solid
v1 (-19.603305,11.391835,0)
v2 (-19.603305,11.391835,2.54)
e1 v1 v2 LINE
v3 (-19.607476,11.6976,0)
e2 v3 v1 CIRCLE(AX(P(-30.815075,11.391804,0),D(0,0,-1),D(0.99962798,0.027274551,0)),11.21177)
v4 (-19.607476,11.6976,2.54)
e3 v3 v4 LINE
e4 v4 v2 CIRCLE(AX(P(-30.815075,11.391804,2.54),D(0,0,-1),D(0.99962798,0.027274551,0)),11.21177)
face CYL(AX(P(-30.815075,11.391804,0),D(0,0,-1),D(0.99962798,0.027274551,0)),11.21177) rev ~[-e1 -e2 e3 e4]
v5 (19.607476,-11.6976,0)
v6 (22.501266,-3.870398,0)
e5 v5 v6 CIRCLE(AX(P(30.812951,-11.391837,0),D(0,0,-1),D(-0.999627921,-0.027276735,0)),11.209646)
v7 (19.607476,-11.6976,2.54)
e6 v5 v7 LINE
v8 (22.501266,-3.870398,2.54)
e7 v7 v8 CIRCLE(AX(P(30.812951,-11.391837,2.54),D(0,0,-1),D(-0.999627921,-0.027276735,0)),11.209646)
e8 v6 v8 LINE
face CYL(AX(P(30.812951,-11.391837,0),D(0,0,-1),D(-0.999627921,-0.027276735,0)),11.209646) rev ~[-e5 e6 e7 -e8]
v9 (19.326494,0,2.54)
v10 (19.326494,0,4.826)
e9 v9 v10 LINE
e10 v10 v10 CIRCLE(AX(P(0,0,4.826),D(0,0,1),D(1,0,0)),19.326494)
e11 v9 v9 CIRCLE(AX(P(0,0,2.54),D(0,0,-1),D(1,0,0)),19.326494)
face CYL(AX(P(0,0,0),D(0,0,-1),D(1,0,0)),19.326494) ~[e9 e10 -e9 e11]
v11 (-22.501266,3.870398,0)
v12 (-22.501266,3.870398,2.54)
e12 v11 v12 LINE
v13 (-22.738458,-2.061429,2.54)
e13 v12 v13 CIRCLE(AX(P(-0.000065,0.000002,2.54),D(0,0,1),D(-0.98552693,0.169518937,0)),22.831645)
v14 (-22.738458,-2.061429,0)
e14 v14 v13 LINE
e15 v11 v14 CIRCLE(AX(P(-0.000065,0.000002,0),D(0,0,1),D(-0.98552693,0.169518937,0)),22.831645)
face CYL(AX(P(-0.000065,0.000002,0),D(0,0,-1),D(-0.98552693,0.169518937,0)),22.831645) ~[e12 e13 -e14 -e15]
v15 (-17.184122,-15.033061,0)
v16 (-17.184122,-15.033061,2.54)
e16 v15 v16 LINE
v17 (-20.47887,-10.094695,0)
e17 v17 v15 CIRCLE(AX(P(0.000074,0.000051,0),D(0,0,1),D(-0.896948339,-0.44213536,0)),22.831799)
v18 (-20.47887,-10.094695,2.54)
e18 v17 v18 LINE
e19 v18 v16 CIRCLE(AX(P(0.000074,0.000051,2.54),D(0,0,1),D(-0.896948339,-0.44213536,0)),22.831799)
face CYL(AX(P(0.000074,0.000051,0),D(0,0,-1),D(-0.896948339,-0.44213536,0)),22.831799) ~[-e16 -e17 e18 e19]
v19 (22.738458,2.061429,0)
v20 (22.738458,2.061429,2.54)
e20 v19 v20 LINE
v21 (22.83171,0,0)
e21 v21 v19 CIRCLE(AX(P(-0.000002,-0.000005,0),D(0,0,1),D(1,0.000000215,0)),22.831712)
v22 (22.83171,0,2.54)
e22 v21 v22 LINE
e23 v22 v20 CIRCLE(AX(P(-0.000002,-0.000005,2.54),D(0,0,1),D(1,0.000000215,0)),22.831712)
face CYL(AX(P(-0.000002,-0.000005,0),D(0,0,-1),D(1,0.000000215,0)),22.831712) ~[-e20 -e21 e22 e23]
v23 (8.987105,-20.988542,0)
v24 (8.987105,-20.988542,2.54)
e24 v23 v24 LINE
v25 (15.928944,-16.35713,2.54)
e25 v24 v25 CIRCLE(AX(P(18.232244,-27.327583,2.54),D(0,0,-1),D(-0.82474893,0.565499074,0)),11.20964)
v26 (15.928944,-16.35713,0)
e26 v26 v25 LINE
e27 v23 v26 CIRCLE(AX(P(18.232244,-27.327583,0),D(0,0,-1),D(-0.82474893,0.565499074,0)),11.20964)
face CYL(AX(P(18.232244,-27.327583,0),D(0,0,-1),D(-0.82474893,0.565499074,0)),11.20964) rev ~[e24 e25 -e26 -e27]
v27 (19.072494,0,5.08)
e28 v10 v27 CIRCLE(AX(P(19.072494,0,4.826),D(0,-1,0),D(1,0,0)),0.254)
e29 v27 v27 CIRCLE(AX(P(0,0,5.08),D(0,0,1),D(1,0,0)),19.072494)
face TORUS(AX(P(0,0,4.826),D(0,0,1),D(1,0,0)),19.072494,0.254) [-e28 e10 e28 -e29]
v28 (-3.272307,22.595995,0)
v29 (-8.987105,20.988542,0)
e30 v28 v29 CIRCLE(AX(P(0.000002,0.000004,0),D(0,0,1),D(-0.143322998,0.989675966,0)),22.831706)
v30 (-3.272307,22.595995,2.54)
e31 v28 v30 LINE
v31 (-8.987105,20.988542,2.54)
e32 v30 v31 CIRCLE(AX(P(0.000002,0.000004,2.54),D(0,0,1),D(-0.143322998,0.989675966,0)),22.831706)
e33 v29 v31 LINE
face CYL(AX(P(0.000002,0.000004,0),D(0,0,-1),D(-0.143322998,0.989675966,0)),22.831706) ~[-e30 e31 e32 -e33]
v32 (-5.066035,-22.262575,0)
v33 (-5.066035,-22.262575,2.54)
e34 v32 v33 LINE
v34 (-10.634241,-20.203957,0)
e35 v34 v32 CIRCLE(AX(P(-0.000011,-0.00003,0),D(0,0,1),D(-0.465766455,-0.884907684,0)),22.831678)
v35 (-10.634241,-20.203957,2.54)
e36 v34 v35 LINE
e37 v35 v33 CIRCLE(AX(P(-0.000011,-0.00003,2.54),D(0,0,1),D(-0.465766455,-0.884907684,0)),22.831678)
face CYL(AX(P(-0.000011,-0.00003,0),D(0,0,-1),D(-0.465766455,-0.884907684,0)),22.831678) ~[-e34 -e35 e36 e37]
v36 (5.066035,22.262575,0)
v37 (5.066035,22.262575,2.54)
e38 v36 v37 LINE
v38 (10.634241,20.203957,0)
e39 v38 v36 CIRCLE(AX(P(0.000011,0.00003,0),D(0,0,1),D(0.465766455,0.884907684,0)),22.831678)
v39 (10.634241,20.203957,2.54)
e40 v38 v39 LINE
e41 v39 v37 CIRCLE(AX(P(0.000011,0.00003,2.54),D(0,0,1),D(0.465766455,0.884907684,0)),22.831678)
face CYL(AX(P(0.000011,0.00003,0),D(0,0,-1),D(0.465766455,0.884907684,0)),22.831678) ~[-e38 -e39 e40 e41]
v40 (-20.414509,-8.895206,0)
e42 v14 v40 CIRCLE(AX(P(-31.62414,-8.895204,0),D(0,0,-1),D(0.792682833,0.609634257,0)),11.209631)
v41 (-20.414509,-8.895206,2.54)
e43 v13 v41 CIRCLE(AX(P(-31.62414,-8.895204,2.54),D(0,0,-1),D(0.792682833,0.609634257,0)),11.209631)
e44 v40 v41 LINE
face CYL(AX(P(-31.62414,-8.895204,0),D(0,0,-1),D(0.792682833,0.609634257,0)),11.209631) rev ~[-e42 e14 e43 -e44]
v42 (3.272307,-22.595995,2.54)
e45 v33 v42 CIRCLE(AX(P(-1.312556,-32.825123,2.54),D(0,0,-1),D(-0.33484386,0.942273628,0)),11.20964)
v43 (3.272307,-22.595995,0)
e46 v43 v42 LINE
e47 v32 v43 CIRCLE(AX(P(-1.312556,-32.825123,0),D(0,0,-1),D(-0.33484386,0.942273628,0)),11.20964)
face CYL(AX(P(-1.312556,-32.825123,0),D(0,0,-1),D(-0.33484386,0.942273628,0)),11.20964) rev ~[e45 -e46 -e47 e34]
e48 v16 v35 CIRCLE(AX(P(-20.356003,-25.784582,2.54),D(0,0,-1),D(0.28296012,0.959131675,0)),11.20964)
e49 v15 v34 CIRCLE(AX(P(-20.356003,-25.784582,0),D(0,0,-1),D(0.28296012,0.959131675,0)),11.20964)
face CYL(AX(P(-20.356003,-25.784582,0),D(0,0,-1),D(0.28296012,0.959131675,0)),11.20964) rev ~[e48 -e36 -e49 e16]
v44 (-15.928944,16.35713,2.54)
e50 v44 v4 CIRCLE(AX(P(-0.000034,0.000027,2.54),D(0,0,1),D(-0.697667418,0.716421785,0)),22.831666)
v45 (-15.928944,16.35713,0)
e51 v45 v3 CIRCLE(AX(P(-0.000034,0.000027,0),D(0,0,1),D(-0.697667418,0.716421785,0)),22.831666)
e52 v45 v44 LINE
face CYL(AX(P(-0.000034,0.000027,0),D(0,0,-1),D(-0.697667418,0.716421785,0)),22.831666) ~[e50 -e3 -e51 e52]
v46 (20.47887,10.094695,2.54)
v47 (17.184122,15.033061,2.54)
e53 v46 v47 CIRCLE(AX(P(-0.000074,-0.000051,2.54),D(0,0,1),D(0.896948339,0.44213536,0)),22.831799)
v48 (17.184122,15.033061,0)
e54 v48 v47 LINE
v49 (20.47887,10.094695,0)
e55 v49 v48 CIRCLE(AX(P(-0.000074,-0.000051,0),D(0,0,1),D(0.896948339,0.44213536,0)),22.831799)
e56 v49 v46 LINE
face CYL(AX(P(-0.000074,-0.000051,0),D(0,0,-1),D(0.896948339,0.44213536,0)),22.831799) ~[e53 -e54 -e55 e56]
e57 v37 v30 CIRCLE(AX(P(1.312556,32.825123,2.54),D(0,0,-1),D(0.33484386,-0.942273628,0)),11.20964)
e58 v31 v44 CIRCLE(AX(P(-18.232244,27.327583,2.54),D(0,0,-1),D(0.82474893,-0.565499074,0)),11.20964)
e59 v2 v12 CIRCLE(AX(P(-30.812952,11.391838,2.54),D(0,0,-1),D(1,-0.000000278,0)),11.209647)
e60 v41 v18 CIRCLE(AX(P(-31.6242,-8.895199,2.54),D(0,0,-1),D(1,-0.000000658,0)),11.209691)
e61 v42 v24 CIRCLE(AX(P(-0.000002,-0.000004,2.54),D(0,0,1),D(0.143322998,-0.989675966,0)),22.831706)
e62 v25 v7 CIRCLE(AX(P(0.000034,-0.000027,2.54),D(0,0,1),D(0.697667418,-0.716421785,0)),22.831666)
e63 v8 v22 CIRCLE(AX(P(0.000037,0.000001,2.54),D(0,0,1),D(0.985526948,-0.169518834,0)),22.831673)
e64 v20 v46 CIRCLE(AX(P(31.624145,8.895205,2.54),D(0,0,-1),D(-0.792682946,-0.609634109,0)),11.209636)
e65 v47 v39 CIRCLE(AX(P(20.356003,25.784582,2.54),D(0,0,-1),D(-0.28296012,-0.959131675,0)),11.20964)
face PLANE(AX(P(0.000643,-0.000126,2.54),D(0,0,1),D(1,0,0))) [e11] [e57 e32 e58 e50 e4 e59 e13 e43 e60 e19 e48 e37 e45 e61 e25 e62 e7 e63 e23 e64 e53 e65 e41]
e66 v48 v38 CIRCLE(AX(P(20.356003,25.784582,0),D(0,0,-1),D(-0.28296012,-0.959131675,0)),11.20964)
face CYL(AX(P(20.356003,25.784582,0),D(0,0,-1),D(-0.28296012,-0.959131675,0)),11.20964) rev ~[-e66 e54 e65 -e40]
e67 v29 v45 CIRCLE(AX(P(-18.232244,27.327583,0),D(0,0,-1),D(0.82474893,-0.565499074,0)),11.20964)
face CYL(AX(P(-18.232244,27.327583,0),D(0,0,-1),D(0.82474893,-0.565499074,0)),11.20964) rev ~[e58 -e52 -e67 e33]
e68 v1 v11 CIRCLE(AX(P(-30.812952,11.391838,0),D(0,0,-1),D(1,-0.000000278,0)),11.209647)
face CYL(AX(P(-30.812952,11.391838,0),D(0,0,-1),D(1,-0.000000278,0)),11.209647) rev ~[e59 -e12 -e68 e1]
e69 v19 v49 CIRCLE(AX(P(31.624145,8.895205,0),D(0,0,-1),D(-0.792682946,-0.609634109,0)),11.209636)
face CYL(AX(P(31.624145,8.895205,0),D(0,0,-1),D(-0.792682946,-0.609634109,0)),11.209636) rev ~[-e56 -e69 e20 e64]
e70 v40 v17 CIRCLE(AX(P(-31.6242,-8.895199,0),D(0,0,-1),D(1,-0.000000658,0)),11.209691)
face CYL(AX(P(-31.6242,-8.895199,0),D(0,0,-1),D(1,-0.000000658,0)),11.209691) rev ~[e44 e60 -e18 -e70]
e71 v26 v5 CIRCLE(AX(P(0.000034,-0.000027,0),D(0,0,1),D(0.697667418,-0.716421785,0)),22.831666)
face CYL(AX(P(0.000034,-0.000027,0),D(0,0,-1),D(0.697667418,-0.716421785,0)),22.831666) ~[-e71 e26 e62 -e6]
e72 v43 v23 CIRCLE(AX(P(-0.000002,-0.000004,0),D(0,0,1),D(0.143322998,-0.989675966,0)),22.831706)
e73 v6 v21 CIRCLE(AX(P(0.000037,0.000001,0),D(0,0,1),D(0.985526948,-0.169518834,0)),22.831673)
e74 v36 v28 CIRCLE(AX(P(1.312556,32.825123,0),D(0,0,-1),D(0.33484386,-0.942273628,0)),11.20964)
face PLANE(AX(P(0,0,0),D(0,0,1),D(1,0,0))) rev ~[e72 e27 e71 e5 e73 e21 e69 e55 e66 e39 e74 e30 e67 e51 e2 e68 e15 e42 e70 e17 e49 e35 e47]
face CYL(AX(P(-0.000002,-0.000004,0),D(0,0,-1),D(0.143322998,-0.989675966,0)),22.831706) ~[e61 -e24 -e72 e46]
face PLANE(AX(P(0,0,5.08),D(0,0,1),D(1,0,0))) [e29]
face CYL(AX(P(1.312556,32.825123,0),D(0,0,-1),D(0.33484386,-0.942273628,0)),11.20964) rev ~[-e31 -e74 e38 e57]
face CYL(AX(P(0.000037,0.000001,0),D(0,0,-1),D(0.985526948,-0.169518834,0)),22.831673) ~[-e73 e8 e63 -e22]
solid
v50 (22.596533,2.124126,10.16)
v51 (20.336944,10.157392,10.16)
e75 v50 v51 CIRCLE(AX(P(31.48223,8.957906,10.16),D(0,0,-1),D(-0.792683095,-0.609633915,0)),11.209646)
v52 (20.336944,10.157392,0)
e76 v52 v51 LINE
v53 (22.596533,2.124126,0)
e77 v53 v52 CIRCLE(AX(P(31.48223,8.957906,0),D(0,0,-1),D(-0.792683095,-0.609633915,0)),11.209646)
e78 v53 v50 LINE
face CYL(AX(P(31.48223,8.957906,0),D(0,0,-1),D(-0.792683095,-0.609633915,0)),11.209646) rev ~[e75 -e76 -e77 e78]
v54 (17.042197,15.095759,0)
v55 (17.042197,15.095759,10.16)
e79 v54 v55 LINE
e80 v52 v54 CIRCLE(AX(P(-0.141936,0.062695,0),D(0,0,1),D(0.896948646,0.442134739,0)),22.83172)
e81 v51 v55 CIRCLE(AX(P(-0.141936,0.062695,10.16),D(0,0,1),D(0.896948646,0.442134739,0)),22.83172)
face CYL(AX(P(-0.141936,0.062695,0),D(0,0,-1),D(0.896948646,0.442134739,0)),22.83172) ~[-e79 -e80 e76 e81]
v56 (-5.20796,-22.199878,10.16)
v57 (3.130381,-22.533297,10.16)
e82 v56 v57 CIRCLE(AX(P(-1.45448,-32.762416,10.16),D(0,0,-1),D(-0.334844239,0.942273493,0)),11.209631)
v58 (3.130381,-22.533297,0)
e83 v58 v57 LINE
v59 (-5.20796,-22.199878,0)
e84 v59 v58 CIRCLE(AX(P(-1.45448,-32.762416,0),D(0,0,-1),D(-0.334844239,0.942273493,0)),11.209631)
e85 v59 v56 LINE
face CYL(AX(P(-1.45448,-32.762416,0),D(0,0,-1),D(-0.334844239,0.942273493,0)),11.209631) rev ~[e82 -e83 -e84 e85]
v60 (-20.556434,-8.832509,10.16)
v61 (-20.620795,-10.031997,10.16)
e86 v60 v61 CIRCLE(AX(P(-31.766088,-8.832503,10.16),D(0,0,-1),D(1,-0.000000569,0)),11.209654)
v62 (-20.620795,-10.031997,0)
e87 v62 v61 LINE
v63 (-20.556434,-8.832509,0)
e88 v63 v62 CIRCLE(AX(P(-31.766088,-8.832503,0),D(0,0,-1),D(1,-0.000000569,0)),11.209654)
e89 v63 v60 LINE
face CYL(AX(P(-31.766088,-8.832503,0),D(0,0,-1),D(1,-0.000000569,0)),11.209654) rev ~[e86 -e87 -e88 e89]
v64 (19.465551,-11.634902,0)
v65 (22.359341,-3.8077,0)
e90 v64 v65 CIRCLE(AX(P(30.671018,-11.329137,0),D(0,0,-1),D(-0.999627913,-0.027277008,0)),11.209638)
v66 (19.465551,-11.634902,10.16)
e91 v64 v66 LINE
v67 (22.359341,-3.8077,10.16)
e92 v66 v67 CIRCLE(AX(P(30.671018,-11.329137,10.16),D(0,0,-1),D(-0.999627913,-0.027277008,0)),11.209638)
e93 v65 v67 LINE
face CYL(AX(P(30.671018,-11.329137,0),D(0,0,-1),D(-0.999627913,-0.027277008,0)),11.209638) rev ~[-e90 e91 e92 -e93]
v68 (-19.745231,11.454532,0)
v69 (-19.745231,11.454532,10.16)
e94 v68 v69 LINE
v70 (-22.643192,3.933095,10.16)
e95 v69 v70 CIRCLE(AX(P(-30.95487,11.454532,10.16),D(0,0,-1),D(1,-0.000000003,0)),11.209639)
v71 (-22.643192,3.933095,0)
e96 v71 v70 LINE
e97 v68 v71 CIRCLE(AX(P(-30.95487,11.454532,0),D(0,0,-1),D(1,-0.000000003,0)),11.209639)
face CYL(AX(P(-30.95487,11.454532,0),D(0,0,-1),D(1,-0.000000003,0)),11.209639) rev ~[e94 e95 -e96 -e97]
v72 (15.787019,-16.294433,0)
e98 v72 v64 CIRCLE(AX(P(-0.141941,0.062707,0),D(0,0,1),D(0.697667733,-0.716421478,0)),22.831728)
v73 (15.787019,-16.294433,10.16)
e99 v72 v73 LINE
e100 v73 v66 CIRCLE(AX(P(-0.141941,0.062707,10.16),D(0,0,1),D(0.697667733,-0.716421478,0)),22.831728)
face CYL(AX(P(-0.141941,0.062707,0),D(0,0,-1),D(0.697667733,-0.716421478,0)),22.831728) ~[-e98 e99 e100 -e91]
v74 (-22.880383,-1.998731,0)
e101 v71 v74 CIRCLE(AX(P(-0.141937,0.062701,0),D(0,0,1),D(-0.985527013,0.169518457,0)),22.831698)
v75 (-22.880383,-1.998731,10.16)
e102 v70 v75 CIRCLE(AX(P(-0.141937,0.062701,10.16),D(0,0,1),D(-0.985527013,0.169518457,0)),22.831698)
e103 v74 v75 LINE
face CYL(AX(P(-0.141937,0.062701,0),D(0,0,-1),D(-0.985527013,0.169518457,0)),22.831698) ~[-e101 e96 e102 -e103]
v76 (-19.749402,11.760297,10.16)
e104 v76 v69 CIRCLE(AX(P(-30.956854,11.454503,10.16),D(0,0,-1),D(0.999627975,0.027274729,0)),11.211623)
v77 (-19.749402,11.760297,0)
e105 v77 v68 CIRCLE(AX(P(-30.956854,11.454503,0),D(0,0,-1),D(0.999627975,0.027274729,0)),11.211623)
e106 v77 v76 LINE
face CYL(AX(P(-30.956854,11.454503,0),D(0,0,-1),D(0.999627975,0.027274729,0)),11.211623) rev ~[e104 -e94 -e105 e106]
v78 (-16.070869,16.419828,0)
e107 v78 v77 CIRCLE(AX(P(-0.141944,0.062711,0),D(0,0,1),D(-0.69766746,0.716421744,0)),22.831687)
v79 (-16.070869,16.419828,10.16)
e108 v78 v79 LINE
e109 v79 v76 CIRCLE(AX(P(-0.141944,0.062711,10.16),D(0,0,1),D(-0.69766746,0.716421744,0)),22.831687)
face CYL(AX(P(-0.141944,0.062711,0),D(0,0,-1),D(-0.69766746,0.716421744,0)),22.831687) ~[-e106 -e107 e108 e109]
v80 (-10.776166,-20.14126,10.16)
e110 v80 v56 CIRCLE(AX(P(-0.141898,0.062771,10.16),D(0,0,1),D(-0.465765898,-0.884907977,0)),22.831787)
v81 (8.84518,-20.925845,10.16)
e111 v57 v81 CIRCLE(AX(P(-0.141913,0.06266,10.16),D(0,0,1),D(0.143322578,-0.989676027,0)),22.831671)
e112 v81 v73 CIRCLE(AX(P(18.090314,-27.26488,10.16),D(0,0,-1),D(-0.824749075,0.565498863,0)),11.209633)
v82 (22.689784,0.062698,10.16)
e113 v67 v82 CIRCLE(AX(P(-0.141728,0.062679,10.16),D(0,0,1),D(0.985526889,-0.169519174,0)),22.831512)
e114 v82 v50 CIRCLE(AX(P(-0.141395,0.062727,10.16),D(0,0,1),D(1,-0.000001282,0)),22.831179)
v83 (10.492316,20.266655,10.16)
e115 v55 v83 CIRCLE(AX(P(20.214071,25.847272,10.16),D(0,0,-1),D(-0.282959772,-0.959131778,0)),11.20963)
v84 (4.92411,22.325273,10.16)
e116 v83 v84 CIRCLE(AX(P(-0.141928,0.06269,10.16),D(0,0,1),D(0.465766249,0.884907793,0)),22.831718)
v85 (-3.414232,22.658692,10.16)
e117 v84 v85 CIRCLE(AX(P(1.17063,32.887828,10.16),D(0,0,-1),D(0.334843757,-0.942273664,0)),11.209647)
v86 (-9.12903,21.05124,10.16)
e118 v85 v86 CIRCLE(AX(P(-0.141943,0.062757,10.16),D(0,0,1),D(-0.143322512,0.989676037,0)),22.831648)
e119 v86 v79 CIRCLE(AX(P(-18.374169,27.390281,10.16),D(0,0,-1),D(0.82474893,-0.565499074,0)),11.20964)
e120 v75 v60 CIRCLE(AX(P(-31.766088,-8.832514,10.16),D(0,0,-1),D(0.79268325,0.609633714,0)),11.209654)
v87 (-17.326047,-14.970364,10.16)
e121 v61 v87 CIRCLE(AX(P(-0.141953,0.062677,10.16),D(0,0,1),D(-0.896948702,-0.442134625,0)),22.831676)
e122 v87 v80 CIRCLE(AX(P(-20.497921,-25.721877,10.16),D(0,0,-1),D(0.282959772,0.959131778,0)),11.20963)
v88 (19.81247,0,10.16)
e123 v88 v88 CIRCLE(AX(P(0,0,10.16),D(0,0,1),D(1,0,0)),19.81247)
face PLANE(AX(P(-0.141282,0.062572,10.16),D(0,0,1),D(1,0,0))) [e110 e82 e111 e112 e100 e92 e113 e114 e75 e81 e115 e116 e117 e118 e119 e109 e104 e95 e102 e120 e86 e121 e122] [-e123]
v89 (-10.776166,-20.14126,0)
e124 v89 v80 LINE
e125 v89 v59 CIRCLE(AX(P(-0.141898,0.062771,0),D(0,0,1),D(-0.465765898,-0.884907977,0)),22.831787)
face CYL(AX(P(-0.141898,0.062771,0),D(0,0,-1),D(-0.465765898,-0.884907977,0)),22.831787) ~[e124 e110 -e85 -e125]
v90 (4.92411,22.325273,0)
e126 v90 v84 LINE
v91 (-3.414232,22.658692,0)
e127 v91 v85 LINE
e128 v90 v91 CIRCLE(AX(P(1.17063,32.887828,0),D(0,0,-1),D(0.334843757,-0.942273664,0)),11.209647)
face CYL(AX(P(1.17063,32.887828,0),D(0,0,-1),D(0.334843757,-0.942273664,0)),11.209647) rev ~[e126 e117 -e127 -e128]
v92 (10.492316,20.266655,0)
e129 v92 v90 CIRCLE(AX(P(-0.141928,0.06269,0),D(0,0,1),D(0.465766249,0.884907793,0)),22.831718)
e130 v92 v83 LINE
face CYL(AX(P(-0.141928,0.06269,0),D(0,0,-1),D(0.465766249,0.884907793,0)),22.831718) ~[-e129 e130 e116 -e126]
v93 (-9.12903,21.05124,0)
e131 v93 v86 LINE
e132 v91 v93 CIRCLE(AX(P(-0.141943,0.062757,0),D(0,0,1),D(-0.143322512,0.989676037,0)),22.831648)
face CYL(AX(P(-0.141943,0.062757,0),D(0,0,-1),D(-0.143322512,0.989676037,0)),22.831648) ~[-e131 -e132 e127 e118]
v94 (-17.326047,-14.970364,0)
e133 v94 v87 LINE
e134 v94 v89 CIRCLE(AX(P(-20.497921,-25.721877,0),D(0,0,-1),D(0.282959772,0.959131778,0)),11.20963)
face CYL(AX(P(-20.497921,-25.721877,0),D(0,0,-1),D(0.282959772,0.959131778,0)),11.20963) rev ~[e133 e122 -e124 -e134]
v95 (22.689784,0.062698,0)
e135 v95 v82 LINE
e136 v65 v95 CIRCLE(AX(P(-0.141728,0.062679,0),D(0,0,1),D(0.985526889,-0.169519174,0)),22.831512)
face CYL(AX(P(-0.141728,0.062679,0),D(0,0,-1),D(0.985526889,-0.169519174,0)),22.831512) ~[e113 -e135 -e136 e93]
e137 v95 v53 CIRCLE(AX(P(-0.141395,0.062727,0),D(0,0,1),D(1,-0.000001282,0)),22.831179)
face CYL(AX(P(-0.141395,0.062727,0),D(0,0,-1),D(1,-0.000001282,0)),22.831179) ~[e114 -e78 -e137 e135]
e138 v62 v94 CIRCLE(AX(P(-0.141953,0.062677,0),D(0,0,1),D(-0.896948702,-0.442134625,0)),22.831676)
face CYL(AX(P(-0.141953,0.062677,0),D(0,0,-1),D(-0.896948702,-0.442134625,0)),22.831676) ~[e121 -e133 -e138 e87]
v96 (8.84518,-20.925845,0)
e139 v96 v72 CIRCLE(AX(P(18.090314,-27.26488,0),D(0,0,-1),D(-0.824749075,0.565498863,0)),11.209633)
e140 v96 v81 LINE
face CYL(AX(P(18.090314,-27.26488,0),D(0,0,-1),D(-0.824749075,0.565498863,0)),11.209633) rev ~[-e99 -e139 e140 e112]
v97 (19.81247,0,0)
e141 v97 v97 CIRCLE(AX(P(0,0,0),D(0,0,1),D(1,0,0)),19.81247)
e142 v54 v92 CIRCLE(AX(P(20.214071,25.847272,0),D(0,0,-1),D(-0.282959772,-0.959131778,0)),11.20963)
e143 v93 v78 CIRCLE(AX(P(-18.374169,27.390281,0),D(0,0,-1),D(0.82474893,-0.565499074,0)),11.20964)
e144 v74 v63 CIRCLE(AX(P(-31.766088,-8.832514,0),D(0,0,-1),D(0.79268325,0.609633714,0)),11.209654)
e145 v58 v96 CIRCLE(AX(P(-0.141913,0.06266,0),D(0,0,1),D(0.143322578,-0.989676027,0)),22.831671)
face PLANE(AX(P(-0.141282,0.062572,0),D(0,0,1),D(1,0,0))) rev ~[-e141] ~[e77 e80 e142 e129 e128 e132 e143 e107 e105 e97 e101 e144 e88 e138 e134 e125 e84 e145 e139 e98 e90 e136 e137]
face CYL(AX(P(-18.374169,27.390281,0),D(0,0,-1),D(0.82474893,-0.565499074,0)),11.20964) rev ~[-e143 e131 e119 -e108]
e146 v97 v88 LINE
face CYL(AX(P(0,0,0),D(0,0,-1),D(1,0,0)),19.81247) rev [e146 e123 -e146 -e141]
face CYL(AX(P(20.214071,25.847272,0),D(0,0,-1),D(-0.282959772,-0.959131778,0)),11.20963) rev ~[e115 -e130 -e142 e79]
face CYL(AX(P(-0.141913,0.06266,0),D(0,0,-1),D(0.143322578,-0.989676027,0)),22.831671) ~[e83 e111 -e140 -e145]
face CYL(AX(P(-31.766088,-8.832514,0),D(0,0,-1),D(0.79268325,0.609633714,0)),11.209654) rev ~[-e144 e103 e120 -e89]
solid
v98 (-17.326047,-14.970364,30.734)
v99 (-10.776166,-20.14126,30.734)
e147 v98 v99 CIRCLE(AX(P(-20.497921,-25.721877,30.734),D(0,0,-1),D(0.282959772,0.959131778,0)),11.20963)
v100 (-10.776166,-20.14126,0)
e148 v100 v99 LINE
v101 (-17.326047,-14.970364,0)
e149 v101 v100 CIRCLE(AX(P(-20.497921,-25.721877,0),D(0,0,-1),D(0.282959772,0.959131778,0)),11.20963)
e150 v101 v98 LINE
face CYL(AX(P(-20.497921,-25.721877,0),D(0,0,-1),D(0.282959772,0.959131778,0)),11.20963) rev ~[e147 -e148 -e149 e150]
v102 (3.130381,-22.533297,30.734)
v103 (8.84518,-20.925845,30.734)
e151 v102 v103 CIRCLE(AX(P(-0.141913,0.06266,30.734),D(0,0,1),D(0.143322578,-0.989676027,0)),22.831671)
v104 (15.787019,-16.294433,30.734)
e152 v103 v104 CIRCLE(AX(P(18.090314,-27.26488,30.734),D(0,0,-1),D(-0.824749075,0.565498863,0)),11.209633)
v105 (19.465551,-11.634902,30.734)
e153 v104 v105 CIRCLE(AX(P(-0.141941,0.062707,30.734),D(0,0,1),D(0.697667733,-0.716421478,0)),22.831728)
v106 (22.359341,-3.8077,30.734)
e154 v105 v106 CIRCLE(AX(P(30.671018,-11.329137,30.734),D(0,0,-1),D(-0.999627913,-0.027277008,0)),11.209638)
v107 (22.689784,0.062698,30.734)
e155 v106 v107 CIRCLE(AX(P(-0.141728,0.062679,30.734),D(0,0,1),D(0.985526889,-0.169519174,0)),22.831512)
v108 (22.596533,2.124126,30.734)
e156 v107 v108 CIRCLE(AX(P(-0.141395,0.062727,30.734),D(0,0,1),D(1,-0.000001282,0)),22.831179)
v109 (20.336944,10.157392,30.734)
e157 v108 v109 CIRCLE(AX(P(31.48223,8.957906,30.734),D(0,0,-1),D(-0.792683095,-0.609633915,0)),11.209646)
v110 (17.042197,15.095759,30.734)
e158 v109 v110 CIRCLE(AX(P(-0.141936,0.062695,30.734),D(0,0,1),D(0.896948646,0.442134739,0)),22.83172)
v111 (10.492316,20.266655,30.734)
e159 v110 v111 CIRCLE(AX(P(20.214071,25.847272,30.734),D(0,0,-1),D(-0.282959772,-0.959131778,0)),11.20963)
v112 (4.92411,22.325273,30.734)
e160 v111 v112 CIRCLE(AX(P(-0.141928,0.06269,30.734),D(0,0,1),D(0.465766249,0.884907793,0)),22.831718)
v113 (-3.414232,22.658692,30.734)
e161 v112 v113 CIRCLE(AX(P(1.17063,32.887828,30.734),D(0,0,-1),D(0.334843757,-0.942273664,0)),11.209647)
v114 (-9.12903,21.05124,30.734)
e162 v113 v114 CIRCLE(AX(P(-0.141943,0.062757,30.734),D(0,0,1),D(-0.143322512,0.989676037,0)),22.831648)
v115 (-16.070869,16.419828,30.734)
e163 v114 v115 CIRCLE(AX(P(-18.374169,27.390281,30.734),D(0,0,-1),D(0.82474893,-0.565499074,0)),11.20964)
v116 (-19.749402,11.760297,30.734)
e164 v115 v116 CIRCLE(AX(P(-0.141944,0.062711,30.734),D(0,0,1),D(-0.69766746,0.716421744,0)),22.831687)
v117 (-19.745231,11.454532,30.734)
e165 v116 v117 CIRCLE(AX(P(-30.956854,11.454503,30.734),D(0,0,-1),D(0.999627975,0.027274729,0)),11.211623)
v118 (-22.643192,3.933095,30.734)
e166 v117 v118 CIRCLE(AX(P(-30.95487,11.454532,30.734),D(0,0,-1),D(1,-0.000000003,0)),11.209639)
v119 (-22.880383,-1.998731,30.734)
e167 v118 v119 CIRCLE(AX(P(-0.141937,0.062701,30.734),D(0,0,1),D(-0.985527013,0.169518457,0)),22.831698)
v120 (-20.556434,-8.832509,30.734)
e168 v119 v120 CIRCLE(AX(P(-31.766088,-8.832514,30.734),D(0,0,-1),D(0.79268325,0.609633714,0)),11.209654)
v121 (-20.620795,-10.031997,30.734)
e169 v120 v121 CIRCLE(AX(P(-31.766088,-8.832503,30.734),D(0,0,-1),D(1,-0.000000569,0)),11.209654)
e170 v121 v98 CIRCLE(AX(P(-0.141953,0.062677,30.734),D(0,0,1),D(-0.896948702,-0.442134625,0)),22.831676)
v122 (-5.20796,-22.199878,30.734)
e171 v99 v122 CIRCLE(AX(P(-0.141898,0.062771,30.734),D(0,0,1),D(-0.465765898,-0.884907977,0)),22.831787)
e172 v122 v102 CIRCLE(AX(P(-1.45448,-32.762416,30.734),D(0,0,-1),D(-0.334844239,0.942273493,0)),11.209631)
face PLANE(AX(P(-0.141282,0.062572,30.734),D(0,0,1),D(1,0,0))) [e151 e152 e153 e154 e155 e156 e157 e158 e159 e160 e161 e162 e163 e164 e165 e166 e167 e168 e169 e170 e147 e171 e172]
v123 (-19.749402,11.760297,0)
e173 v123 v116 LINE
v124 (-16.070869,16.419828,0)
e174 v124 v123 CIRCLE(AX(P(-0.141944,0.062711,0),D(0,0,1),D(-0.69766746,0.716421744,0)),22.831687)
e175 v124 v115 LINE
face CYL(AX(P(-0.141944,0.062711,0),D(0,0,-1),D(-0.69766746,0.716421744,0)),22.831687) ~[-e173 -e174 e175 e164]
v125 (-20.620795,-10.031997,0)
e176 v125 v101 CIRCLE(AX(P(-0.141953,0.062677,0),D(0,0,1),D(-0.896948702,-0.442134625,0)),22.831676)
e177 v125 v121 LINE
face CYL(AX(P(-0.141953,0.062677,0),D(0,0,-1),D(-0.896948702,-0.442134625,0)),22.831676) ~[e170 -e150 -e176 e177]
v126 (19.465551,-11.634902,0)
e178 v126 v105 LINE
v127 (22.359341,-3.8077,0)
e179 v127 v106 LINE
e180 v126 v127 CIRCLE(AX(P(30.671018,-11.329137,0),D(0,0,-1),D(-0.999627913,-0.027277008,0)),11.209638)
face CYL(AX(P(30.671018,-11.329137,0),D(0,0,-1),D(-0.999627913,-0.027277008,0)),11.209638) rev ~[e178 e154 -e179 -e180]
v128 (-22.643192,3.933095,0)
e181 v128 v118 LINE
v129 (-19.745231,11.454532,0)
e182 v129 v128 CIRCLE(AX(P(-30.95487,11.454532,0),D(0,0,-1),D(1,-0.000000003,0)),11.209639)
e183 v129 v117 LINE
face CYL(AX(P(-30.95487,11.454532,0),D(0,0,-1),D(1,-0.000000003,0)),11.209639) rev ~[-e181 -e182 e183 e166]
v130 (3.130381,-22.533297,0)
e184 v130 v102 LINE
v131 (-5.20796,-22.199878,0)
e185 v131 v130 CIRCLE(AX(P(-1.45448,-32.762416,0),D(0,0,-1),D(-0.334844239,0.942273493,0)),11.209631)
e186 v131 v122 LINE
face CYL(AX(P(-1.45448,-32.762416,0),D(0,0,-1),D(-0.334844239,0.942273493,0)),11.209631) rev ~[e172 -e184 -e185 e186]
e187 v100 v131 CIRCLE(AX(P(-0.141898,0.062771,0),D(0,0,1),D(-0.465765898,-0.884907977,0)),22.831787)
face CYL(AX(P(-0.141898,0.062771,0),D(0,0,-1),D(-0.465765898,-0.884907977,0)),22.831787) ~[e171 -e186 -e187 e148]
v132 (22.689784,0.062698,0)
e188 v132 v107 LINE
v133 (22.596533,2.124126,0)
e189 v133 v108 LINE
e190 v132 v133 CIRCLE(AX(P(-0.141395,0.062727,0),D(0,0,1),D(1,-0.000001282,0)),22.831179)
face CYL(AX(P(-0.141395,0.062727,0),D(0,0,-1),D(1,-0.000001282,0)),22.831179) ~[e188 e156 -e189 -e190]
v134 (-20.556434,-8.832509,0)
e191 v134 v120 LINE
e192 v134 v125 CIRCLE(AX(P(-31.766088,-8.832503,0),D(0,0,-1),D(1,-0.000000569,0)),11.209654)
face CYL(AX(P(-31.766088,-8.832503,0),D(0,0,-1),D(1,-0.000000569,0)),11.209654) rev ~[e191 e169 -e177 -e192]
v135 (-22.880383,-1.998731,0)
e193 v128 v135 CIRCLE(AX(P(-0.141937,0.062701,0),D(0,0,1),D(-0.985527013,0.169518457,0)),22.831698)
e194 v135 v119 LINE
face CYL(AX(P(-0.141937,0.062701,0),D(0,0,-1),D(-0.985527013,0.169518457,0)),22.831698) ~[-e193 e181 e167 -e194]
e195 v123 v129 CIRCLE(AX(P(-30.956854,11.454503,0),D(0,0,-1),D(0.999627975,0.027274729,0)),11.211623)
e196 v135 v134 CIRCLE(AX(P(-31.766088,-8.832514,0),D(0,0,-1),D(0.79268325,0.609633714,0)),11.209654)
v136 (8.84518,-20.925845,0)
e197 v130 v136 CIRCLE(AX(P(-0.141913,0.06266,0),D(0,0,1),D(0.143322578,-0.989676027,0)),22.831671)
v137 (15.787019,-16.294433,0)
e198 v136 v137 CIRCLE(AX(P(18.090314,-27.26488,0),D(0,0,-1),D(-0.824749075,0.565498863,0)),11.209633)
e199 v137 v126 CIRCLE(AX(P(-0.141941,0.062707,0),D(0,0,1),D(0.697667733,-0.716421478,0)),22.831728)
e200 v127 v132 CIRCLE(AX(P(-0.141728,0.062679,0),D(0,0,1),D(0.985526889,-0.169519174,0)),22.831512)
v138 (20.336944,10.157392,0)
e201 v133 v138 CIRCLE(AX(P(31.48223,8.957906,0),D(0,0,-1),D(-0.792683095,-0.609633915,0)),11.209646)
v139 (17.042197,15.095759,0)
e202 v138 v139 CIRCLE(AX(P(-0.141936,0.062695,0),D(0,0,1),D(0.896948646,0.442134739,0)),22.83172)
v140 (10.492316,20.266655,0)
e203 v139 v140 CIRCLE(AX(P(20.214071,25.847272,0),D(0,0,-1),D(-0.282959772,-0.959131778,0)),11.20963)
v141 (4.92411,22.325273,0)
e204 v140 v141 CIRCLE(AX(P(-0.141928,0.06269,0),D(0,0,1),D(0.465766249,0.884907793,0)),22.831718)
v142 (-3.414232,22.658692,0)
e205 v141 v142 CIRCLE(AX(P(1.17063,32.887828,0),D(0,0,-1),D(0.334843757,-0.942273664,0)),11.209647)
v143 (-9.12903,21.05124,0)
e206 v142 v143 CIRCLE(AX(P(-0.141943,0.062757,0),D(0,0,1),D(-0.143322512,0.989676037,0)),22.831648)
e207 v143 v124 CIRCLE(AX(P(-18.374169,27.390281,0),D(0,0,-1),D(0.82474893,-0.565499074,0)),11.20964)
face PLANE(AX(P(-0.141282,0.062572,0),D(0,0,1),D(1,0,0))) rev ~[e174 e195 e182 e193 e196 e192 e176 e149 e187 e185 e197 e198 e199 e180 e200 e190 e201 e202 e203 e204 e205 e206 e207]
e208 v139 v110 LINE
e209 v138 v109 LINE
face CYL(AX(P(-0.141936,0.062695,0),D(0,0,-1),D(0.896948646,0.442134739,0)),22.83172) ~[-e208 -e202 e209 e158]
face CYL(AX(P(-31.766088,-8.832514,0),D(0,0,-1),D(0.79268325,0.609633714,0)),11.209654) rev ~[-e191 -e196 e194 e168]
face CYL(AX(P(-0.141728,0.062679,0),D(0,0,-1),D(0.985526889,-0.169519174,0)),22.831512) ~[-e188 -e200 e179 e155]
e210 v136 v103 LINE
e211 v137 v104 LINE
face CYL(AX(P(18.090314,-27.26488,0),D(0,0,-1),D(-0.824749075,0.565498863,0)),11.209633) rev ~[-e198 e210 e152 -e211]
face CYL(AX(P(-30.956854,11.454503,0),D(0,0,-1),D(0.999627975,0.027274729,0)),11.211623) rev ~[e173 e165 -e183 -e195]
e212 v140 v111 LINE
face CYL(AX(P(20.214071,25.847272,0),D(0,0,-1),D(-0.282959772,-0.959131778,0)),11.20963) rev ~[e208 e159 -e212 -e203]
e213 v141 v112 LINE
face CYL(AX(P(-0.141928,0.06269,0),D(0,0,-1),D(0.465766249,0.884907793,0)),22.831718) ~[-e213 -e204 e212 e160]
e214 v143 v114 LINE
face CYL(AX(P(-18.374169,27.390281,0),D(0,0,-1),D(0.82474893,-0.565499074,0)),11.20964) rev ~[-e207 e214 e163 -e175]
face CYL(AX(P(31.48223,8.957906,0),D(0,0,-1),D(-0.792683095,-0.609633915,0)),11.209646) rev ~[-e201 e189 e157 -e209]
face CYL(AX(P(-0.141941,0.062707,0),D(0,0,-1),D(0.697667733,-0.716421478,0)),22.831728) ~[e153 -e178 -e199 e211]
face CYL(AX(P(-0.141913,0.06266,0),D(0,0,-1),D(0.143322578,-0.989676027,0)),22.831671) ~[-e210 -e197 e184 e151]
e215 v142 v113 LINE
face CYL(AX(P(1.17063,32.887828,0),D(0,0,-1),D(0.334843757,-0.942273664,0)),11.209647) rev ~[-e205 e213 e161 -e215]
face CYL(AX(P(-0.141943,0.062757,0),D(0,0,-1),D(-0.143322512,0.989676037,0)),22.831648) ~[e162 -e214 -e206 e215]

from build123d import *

# Parameters (mm, degrees)
F1_DEPTH  = 2.54
F2_R      = 19.326494
F3_DEPTH  = 5.08
F4_R      = 0.254
F9_R      = 19.81247
F10_DEPTH = 10.16
F11_R     = 19.81247
F12_DEPTH = 30.734


with BuildPart() as f1:
    # F0 (on Top) → F1 (new body)
    with BuildSketch(Plane.XY):
        with BuildLine():
            ThreePointArc((22.501266, -3.870398), (22.748949, -1.942239), (22.83171, 0))
            ThreePointArc((22.83171, 0), (22.808385, 1.031768), (22.738458, 2.061429))
            ThreePointArc((22.738458, 2.061429), (20.83326, 5.859957), (20.47887, 10.094695))
            ThreePointArc((20.47887, 10.094695), (18.992685, 12.671419), (17.184122, 15.033061))
            ThreePointArc((17.184122, 15.033061), (13.410065, 16.986288), (10.634241, 20.203957))
            ThreePointArc((10.634241, 20.203957), (7.917332, 21.415014), (5.066035, 22.262575))
            ThreePointArc((5.066035, 22.262575), (0.864681, 21.624434), (-3.272307, 22.595995))
            ThreePointArc((-3.272307, 22.595995), (-6.182174, 21.978801), (-8.987105, 20.988542))
            ThreePointArc((-8.987105, 20.988542), (-12.010982, 18.002781), (-15.928944, 16.35713))
            ThreePointArc((-15.928944, 16.35713), (-17.920299, 14.147433), (-19.607476, 11.6976))
            ThreePointArc((-19.607476, 11.6976), (-19.604348, 11.544731), (-19.603305, 11.391835))
            ThreePointArc((-19.603305, 11.391835), (-20.352856, 7.36163), (-22.501266, 3.870398))
            ThreePointArc((-22.501266, 3.870398), (-22.813479, 0.912227), (-22.738458, -2.061429))
            ThreePointArc((-22.738458, -2.061429), (-21.011387, -5.286146), (-20.414509, -8.895206))
            ThreePointArc((-20.414509, -8.895206), (-20.430611, -9.495813), (-20.47887, -10.094695))
            ThreePointArc((-20.47887, -10.094695), (-18.992685, -12.671419), (-17.184122, -15.033061))
            ThreePointArc((-17.184122, -15.033061), (-13.410065, -16.986288), (-10.634241, -20.203957))
            ThreePointArc((-10.634241, -20.203957), (-7.917332, -21.415014), (-5.066035, -22.262575))
            ThreePointArc((-5.066035, -22.262575), (-0.864681, -21.624434), (3.272307, -22.595995))
            ThreePointArc((3.272307, -22.595995), (6.182174, -21.978801), (8.987105, -20.988542))
            ThreePointArc((8.987105, -20.988542), (12.010982, -18.002781), (15.928944, -16.35713))
            ThreePointArc((15.928944, -16.35713), (17.920299, -14.147433), (19.607476, -11.6976))
            ThreePointArc((19.607476, -11.6976), (20.298858, -7.504678), (22.501266, -3.870398))
        make_face()
    extrude(amount=F1_DEPTH)

    # F2 (on Top) → F3 (join)
    with BuildSketch(Plane.XY):
        Circle(F2_R)
    extrude(amount=F3_DEPTH)

    # F4
    f4_edges = [f1.edges().sort_by_distance(p)[0] for p in [
        (-19.326494, 0, 5.08),
    ]]
    fillet(f4_edges, radius=F4_R)


with BuildPart() as f5_1:
    # F5: copy of F1
    add(f1.part)


with BuildPart() as f7_1:
    # F7: copy of F1
    add(f1.part.moved(Location((0, 0, 6.35))))


with BuildPart() as f10:
    # F9 (on Top) → F10 (new body)
    with BuildSketch(Plane.XY):
        with BuildLine():
            ThreePointArc((22.359341, -3.8077), (22.607024, -1.879542), (22.689784, 0.062698))
            ThreePointArc((22.689784, 0.062698), (22.66646, 1.094466), (22.596533, 2.124126))
            ThreePointArc((22.596533, 2.124126), (20.691335, 5.922655), (20.336944, 10.157392))
            ThreePointArc((20.336944, 10.157392), (18.85076, 12.734117), (17.042197, 15.095759))
            ThreePointArc((17.042197, 15.095759), (13.26814, 17.048985), (10.492316, 20.266655))
            ThreePointArc((10.492316, 20.266655), (7.775406, 21.477712), (4.92411, 22.325273))
            ThreePointArc((4.92411, 22.325273), (0.722756, 21.687132), (-3.414232, 22.658692))
            ThreePointArc((-3.414232, 22.658692), (-6.324099, 22.041499), (-9.12903, 21.05124))
            ThreePointArc((-9.12903, 21.05124), (-12.152907, 18.065479), (-16.070869, 16.419828))
            ThreePointArc((-16.070869, 16.419828), (-18.062224, 14.210131), (-19.749402, 11.760297))
            ThreePointArc((-19.749402, 11.760297), (-19.746274, 11.607429), (-19.745231, 11.454532))
            ThreePointArc((-19.745231, 11.454532), (-20.494781, 7.424328), (-22.643192, 3.933095))
            ThreePointArc((-22.643192, 3.933095), (-22.955404, 0.974924), (-22.880383, -1.998731))
            ThreePointArc((-22.880383, -1.998731), (-21.153313, -5.223449), (-20.556434, -8.832509))
            ThreePointArc((-20.556434, -8.832509), (-20.572536, -9.433116), (-20.620795, -10.031997))
            ThreePointArc((-20.620795, -10.031997), (-19.134611, -12.608722), (-17.326047, -14.970364))
            ThreePointArc((-17.326047, -14.970364), (-13.55199, -16.92359), (-10.776166, -20.14126))
            ThreePointArc((-10.776166, -20.14126), (-8.059257, -21.352316), (-5.20796, -22.199878))
            ThreePointArc((-5.20796, -22.199878), (-1.006606, -21.561736), (3.130381, -22.533297))
            ThreePointArc((3.130381, -22.533297), (6.040248, -21.916104), (8.84518, -20.925845))
            ThreePointArc((8.84518, -20.925845), (11.869056, -17.940084), (15.787019, -16.294433))
            ThreePointArc((15.787019, -16.294433), (17.778373, -14.084736), (19.465551, -11.634902))
            ThreePointArc((19.465551, -11.634902), (20.156932, -7.441981), (22.359341, -3.8077))
        make_face()
        Circle(F9_R, mode=Mode.SUBTRACT)
    extrude(amount=F10_DEPTH)


with BuildPart() as f12:
    # F11 (on face) → F12 (new body)
    with BuildSketch(Plane.XY):
        with BuildLine():
            ThreePointArc((19.465551, -11.634902), (20.156932, -7.441981), (22.359341, -3.8077))
            ThreePointArc((22.359341, -3.8077), (22.607024, -1.879542), (22.689784, 0.062698))
            ThreePointArc((22.689784, 0.062698), (22.66646, 1.094466), (22.596533, 2.124126))
            ThreePointArc((22.596533, 2.124126), (20.691335, 5.922655), (20.336944, 10.157392))
            ThreePointArc((20.336944, 10.157392), (18.85076, 12.734117), (17.042197, 15.095759))
            ThreePointArc((17.042197, 15.095759), (13.26814, 17.048985), (10.492316, 20.266655))
            ThreePointArc((10.492316, 20.266655), (7.775406, 21.477712), (4.92411, 22.325273))
            ThreePointArc((4.92411, 22.325273), (0.722756, 21.687132), (-3.414232, 22.658692))
            ThreePointArc((-3.414232, 22.658692), (-6.324099, 22.041499), (-9.12903, 21.05124))
            ThreePointArc((-9.12903, 21.05124), (-12.152907, 18.065479), (-16.070869, 16.419828))
            ThreePointArc((-16.070869, 16.419828), (-18.062224, 14.210131), (-19.749402, 11.760297))
            ThreePointArc((-19.749402, 11.760297), (-19.746274, 11.607429), (-19.745231, 11.454532))
            ThreePointArc((-19.745231, 11.454532), (-20.494781, 7.424328), (-22.643192, 3.933095))
            ThreePointArc((-22.643192, 3.933095), (-22.955404, 0.974924), (-22.880383, -1.998731))
            ThreePointArc((-22.880383, -1.998731), (-21.153313, -5.223449), (-20.556434, -8.832509))
            ThreePointArc((-20.556434, -8.832509), (-20.572536, -9.433116), (-20.620795, -10.031997))
            ThreePointArc((-20.620795, -10.031997), (-19.134611, -12.608722), (-17.326047, -14.970364))
            ThreePointArc((-17.326047, -14.970364), (-13.55199, -16.92359), (-10.776166, -20.14126))
            ThreePointArc((-10.776166, -20.14126), (-8.059257, -21.352316), (-5.20796, -22.199878))
            ThreePointArc((-5.20796, -22.199878), (-1.006606, -21.561736), (3.130381, -22.533297))
            ThreePointArc((3.130381, -22.533297), (6.040248, -21.916104), (8.84518, -20.925845))
            ThreePointArc((8.84518, -20.925845), (11.869056, -17.940084), (15.787019, -16.294433))
            ThreePointArc((15.787019, -16.294433), (17.778373, -14.084736), (19.465551, -11.634902))
        make_face()
        Circle(F11_R, mode=Mode.SUBTRACT)
        Circle(F11_R)
    extrude(amount=F12_DEPTH)


solid = Compound([f1.part, f10.part, f12.part])
